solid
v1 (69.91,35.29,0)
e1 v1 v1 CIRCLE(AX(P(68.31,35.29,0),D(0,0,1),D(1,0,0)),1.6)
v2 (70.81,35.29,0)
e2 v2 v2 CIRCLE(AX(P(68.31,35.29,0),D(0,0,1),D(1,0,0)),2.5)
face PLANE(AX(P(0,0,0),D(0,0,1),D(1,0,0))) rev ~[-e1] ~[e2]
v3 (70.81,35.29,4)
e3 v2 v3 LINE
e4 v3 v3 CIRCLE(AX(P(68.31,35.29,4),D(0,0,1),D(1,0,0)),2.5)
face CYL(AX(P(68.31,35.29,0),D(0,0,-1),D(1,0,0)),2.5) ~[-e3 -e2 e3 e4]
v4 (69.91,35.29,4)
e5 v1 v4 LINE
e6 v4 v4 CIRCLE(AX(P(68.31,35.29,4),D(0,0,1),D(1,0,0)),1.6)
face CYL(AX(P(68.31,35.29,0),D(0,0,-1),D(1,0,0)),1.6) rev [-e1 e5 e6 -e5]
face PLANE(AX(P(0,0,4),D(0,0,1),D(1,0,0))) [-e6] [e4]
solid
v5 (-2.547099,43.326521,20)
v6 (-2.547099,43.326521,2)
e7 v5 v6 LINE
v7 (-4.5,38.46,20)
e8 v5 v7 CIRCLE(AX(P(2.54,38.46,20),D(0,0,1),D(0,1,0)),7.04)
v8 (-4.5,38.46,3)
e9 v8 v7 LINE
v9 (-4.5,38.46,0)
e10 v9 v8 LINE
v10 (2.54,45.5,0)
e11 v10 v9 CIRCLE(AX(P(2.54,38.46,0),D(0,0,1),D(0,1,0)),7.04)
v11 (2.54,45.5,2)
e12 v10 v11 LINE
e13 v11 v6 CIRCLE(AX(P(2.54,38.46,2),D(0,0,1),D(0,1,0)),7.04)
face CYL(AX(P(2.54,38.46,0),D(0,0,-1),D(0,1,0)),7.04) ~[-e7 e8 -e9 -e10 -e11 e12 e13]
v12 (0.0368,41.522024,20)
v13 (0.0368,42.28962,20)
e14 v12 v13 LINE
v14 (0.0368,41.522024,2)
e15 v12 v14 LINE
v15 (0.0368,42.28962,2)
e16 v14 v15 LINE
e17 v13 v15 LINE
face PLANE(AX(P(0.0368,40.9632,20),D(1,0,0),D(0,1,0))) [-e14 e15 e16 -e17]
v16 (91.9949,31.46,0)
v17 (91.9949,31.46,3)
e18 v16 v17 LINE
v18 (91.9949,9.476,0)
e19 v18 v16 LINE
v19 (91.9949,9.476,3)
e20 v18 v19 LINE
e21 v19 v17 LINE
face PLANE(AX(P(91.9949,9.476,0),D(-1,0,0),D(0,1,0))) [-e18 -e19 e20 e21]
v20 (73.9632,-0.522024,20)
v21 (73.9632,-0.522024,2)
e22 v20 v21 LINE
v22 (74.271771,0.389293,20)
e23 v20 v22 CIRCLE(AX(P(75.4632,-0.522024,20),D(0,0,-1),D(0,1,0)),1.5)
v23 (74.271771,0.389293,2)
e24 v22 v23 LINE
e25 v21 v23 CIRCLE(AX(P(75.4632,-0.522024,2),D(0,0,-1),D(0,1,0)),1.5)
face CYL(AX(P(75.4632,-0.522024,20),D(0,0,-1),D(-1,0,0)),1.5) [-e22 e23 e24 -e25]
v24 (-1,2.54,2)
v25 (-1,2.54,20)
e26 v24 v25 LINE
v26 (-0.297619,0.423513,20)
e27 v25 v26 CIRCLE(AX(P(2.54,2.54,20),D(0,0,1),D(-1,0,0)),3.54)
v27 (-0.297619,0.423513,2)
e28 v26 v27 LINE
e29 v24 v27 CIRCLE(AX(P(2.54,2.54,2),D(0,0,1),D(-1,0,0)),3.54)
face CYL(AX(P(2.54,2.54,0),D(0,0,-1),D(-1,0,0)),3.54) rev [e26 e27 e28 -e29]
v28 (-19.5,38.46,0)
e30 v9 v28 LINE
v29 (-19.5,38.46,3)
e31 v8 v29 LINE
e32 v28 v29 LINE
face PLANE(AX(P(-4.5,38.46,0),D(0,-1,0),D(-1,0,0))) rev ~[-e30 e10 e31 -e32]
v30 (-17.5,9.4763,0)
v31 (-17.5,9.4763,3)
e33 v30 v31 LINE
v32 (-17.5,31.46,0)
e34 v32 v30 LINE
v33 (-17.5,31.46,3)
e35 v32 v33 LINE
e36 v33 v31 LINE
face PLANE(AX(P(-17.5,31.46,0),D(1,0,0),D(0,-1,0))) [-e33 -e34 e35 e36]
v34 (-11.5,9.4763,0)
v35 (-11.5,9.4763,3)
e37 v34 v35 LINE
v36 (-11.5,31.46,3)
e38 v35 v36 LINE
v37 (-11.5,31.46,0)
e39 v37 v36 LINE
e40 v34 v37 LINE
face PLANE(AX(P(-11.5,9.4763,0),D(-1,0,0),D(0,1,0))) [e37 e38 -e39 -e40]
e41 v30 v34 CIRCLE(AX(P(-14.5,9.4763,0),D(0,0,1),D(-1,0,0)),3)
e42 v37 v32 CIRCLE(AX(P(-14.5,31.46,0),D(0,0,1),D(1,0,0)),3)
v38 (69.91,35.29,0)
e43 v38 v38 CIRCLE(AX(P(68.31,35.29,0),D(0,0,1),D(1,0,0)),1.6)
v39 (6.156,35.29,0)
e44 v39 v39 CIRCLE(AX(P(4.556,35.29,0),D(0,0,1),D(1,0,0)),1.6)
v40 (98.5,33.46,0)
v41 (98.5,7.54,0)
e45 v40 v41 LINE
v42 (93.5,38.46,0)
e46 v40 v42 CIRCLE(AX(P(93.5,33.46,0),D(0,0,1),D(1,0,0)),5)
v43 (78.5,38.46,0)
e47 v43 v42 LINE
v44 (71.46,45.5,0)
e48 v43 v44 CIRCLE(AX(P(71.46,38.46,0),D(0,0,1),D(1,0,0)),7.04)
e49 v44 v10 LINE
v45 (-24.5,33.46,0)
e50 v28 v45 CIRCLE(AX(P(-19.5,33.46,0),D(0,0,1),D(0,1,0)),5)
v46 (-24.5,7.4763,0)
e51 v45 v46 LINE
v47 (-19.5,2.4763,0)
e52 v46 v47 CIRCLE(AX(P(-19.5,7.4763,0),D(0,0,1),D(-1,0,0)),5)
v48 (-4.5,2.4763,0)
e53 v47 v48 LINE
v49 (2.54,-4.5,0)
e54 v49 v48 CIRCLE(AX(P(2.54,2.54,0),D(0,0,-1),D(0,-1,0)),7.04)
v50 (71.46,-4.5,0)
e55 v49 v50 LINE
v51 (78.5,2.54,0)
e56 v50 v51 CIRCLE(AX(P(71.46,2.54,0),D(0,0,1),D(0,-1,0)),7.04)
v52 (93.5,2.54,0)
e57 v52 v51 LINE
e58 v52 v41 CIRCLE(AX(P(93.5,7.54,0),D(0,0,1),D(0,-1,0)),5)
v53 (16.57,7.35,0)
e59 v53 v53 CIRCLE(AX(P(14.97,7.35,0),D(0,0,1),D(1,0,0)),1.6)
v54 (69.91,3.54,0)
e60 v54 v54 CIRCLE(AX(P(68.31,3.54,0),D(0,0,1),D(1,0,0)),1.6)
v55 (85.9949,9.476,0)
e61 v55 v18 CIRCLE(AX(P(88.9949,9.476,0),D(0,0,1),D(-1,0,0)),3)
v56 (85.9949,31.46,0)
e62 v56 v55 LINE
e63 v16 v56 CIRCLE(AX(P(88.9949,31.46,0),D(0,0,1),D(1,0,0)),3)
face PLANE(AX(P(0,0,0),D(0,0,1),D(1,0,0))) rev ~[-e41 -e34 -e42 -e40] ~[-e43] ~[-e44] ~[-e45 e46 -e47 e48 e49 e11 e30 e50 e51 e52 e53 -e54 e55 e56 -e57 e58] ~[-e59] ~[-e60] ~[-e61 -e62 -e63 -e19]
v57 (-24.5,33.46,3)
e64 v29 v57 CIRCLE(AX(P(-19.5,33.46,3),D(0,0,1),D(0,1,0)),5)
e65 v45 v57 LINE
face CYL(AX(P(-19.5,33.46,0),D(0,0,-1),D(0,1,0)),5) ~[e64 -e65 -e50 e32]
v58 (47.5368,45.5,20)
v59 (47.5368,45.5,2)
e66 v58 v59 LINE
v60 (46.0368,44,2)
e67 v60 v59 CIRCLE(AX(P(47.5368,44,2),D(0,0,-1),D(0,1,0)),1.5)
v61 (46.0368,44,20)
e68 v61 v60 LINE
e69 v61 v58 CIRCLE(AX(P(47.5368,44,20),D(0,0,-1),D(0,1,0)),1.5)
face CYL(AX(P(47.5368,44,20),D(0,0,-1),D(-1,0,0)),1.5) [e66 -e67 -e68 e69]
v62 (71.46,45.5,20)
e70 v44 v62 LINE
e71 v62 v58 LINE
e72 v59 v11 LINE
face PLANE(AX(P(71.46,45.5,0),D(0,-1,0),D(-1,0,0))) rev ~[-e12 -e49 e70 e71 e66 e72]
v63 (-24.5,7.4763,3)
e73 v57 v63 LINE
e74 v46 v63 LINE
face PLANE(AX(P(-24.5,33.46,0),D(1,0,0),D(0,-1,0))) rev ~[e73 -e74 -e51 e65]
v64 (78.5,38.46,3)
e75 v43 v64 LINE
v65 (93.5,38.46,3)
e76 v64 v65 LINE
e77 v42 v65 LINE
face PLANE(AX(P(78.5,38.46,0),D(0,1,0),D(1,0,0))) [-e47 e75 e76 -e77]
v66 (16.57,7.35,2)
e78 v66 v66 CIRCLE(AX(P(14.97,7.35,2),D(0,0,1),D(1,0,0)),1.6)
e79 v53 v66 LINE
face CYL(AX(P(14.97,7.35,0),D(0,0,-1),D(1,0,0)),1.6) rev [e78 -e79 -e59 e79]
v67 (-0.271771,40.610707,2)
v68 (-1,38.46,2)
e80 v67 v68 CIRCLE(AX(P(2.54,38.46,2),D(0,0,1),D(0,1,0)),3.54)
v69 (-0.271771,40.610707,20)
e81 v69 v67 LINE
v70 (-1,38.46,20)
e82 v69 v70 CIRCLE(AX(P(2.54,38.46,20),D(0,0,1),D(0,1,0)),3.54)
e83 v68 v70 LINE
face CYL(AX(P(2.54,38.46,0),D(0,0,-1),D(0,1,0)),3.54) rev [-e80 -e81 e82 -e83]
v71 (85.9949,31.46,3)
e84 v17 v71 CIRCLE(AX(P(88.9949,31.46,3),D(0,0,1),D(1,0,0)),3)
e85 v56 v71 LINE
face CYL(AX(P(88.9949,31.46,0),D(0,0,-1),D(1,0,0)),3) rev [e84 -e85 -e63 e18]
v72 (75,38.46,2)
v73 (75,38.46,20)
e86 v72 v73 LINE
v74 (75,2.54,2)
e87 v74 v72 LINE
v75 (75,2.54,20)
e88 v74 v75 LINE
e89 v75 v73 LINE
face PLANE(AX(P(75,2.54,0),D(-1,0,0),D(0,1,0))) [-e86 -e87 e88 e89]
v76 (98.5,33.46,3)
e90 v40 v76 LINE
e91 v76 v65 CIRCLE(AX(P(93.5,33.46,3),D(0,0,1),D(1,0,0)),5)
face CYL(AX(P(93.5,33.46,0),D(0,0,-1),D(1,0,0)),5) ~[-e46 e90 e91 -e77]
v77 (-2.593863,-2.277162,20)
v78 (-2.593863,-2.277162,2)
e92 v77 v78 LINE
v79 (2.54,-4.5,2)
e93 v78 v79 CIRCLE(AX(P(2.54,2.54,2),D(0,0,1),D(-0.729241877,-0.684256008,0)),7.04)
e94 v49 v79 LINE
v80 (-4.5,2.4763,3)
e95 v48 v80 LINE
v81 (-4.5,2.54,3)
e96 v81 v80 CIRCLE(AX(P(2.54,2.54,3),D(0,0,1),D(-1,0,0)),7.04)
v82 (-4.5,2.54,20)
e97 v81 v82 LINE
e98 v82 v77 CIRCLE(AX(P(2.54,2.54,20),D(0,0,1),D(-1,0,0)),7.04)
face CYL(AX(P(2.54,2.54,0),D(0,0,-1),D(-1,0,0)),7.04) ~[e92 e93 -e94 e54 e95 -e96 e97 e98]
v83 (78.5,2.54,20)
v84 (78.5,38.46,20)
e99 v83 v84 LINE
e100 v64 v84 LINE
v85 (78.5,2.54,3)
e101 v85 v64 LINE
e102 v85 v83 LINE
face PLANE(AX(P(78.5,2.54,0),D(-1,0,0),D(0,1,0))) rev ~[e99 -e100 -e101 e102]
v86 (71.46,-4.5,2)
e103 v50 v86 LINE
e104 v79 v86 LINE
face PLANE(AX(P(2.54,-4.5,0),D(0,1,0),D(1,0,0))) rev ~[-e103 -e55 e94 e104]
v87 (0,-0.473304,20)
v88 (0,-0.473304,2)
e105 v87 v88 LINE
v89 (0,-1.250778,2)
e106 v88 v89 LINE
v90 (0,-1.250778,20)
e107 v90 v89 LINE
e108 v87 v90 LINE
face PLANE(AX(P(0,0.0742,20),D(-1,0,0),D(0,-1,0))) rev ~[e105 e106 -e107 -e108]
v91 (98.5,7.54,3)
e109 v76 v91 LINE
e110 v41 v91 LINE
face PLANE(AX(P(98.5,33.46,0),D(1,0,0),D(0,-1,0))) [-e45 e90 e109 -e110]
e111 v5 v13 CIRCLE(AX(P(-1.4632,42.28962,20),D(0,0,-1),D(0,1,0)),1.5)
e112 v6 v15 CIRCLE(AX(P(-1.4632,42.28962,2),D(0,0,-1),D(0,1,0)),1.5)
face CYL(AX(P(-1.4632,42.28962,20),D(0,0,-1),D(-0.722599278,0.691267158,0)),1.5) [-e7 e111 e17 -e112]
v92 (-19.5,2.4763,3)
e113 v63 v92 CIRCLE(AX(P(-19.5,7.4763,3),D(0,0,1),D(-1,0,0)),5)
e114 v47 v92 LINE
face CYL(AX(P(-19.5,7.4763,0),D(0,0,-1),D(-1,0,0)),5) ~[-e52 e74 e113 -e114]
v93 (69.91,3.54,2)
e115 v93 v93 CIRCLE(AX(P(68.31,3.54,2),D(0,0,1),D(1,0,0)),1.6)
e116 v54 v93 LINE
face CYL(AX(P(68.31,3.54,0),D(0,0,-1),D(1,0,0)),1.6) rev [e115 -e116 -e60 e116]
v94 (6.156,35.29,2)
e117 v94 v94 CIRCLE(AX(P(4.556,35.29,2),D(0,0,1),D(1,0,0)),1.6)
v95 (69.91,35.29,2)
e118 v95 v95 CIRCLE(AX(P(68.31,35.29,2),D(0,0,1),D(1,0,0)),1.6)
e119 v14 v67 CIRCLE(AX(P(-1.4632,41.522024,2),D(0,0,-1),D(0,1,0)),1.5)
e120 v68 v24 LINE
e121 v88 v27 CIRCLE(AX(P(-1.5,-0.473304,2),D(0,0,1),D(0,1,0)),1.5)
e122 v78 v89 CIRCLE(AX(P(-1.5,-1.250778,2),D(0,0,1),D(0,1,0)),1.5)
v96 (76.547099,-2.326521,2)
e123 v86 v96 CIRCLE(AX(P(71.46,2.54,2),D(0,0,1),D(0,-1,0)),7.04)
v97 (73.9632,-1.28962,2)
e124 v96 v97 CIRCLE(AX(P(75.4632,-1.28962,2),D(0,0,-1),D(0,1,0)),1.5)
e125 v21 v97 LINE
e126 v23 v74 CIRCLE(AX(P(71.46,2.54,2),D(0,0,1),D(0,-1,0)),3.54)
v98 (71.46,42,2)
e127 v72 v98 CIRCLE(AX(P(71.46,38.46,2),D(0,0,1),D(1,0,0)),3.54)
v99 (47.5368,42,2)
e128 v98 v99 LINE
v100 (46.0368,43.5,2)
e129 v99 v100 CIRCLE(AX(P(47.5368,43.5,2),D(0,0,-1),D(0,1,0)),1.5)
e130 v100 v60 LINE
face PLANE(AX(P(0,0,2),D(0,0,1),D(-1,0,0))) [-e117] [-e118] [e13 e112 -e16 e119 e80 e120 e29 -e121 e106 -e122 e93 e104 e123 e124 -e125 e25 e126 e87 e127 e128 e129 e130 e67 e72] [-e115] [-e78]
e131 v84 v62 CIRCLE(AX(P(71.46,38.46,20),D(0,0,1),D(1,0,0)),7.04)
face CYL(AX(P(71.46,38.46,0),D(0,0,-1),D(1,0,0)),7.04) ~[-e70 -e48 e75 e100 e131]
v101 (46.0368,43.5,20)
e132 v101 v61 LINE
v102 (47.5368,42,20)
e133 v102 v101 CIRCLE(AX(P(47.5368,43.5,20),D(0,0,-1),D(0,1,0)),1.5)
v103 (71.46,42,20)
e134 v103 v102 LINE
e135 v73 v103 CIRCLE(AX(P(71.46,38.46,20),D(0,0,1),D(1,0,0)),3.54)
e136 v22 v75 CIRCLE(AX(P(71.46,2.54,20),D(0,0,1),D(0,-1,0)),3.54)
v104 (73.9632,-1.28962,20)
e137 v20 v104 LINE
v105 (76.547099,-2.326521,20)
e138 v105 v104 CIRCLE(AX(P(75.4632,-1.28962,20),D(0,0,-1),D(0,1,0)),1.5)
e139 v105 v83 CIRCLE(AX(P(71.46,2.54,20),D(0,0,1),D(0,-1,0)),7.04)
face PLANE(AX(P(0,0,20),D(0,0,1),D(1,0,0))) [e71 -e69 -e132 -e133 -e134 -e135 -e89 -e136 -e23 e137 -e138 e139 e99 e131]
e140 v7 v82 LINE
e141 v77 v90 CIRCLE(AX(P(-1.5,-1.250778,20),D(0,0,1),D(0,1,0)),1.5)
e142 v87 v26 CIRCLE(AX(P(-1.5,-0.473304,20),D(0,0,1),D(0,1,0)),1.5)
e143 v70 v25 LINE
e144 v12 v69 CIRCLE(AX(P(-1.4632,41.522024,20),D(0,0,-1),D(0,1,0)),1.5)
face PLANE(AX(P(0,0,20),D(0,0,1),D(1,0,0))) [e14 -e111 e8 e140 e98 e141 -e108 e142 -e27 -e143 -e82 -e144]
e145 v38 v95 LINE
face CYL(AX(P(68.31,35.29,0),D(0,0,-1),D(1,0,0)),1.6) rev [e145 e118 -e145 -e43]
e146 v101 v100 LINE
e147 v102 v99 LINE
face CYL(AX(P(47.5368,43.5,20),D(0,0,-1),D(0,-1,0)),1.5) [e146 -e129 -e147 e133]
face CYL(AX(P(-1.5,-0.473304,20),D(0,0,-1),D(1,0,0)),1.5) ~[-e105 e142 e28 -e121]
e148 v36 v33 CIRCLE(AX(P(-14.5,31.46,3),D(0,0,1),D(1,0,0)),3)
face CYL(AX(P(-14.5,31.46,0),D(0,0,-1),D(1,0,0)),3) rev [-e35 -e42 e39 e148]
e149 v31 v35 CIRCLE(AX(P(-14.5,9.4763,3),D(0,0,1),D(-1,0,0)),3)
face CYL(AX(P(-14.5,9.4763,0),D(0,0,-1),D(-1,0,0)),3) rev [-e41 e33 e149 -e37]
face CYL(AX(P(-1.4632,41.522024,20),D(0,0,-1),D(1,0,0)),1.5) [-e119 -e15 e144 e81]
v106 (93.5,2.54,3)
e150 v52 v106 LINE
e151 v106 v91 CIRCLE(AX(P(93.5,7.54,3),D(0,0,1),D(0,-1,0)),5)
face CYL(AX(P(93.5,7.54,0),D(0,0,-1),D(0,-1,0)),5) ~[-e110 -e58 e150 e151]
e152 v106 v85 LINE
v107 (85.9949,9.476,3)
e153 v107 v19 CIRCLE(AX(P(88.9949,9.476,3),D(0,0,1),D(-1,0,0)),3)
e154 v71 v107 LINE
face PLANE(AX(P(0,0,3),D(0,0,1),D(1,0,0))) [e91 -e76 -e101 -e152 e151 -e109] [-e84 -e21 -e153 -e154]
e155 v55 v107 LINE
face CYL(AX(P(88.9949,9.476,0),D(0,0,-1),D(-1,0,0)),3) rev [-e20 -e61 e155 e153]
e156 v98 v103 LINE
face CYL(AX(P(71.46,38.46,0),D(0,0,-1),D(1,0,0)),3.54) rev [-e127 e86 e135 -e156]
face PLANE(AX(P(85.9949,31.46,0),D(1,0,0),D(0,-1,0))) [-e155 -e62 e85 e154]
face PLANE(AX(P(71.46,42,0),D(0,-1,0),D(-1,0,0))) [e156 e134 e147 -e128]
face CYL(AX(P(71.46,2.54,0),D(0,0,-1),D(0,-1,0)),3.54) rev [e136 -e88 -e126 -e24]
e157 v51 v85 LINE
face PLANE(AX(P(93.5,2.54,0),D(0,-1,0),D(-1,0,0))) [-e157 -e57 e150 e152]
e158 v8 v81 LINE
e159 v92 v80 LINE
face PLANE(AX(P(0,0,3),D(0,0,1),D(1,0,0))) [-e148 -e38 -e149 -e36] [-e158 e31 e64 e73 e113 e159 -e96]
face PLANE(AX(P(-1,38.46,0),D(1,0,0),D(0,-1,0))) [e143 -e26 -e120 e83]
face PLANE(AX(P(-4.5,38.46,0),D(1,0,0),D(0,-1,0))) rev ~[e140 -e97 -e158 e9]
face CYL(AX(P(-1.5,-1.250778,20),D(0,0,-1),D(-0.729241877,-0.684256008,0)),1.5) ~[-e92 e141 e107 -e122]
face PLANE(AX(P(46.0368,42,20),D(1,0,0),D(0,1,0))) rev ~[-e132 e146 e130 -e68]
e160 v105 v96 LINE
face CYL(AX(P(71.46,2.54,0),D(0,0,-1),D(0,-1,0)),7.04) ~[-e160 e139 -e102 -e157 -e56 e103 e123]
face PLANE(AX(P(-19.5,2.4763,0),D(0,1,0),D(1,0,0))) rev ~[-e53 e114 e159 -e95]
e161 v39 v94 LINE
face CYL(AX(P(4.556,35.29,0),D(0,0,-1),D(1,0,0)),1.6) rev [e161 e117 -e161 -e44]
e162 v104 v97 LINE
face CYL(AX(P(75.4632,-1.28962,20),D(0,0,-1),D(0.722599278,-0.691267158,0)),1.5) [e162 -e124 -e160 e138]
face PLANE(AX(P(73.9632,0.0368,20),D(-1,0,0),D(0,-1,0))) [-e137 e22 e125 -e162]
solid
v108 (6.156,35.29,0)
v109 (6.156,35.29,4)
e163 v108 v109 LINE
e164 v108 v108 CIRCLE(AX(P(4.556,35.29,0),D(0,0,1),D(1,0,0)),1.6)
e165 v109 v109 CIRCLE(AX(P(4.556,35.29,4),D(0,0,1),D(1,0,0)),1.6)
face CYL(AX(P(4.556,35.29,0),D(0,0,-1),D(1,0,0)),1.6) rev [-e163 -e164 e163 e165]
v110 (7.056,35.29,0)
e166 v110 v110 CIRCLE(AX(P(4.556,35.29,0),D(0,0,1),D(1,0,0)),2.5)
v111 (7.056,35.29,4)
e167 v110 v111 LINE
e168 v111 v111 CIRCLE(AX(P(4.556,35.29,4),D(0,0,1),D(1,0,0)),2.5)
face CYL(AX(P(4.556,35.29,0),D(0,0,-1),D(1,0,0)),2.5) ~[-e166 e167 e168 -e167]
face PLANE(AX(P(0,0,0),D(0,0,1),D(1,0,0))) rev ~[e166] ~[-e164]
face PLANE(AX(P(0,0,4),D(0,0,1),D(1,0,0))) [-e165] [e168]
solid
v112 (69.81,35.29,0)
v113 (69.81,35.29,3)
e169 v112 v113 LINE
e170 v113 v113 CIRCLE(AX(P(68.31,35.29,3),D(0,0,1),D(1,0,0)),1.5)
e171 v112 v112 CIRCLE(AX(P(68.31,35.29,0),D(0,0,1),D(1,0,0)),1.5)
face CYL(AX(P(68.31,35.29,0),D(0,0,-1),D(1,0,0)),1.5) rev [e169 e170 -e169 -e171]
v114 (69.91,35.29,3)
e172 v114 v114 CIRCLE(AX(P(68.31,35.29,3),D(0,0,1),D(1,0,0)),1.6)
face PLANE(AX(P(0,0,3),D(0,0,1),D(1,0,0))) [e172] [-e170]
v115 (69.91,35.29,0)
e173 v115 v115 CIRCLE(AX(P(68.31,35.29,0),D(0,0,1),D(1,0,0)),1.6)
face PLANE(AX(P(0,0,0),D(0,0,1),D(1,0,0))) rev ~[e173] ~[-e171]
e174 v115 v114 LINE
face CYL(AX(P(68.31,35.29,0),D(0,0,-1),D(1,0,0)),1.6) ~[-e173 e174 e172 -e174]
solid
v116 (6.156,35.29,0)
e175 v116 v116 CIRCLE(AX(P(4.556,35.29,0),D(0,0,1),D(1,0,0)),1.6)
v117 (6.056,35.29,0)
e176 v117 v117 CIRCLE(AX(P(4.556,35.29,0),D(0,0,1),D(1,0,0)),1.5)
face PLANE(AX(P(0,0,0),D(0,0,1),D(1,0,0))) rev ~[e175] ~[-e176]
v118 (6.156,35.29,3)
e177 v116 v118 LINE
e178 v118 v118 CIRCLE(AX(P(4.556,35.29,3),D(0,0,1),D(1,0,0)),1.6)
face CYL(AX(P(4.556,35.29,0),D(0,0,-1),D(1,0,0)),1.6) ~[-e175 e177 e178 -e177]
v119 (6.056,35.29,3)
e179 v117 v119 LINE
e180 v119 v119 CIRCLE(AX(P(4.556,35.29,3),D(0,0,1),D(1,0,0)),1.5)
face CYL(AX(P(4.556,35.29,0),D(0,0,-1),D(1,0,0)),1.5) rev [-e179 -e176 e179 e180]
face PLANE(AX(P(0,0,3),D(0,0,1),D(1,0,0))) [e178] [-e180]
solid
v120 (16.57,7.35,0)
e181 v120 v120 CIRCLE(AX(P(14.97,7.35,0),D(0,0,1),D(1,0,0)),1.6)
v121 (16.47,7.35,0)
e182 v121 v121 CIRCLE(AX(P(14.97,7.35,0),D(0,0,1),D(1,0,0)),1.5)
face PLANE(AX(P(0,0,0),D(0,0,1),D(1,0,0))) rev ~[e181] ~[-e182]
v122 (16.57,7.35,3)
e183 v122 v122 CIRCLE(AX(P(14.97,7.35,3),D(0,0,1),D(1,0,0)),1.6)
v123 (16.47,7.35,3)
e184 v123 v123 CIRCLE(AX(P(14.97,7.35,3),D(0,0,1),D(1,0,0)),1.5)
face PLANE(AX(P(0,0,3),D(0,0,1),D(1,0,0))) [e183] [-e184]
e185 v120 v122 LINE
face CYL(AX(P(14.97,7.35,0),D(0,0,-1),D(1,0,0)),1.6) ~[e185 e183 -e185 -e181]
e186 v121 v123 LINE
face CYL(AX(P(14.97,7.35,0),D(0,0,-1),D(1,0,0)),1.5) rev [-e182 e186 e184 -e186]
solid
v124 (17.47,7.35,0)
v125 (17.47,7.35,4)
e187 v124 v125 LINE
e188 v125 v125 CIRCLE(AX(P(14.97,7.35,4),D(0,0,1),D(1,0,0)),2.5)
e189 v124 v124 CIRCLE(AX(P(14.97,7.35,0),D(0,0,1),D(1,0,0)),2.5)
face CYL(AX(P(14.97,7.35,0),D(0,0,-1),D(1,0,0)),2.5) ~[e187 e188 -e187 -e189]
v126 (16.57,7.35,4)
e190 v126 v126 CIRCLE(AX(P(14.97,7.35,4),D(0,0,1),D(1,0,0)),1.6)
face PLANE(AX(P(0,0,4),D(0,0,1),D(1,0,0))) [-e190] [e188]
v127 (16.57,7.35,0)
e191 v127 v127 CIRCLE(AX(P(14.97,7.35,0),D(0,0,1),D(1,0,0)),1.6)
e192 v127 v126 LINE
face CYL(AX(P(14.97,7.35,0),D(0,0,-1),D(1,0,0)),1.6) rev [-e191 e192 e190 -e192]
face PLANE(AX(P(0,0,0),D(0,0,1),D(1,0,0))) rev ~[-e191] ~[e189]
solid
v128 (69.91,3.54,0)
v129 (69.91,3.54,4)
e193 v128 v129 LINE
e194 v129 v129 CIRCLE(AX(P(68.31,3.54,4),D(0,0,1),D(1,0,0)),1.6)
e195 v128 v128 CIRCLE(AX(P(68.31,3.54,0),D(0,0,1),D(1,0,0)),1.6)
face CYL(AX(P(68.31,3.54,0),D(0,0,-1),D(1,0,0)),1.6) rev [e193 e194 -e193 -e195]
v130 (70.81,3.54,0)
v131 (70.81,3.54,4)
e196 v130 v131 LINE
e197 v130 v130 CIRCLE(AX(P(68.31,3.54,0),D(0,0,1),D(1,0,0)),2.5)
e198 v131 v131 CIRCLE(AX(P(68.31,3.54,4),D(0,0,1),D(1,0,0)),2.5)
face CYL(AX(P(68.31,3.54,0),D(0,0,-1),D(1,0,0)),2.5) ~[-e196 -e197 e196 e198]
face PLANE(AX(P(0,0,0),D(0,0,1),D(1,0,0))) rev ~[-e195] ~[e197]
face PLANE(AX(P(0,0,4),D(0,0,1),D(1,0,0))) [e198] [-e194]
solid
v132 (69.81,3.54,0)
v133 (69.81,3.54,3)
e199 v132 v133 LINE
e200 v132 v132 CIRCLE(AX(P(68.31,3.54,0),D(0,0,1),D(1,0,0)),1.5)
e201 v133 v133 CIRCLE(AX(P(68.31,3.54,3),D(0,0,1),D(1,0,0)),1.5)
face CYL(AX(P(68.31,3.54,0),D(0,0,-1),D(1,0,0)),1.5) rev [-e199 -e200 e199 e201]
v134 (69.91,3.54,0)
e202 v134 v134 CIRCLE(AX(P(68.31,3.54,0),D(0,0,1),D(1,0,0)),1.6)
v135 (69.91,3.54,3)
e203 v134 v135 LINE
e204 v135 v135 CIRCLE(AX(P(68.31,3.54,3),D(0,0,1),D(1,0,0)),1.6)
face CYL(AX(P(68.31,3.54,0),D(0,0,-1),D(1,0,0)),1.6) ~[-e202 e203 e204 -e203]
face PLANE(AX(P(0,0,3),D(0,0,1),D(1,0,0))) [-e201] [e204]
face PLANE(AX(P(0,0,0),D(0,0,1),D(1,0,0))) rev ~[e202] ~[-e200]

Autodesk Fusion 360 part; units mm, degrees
sketch "Sketch1" plane through (0, 0, 0) normal (0, 0, 1) x (1, 0, 0)
  line L0 (74, 2.54) -> (74, 38.46)
  line L1 (71.46, 41) -> (2.54, 41)
  line L2 (0, 38.46) -> (0, 2.54)
  circle A0 centre (14.97, 7.35) radius 1.6
  circle A1 centre (4.556, 35.29) radius 1.6
  circle A2 centre (68.31, 35.29) radius 1.6
  line L3 (2.54, 0) -> (71.46, 0)
  circle A3 centre (68.31, 3.54) radius 1.6
  arc A4 (2.54, 41) -> (0, 38.46) centre (2.54, 38.46) ccw
  arc A5 (74, 38.46) -> (71.46, 41) centre (71.46, 38.46) ccw
  arc A6 (71.46, 0) -> (74, 2.54) centre (71.46, 2.54) ccw
  arc A7 (0, 2.54) -> (2.54, 0) centre (2.54, 2.54) ccw
  line L4 (-1, 38.46) -> (-1, 2.54)
  arc A8 (-1, 2.54) -> (2.54, -1) centre (2.54, 2.54) ccw
  line L5 (2.54, -1) -> (71.46, -1)
  arc A9 (71.46, -1) -> (75, 2.54) centre (71.46, 2.54) ccw
  line L6 (75, 2.54) -> (75, 38.46)
  arc A10 (75, 38.46) -> (71.46, 42) centre (71.46, 38.46) ccw
  line L7 (71.46, 42) -> (2.54, 42)
  arc A11 (2.54, 42) -> (-1, 38.46) centre (2.54, 38.46) ccw
  arc A12 (2.54, 45.5) -> (-4.5, 38.46) centre (2.54, 38.46) ccw
  line L8 (-4.5, 38.46) -> (-4.5, 2.54)
  arc A13 (-4.5, 2.54) -> (2.54, -4.5) centre (2.54, 2.54) ccw
  line L9 (2.54, -4.5) -> (71.46, -4.5)
  arc A14 (71.46, -4.5) -> (78.5, 2.54) centre (71.46, 2.54) ccw
  line L10 (78.5, 2.54) -> (78.5, 38.46)
  arc A15 (78.5, 38.46) -> (71.46, 45.5) centre (71.46, 38.46) ccw
  line L11 (71.46, 45.5) -> (2.54, 45.5)
  circle A16 centre (68.31, 3.54) radius 1.5
  circle A17 centre (14.97, 7.35) radius 1.5
  circle A18 centre (4.556, 35.29) radius 1.5
  circle A19 centre (68.31, 35.29) radius 1.5
  circle A20 centre (4.556, 35.29) radius 2.5
  circle A21 centre (14.97, 7.35) radius 2.5
  circle A22 centre (68.31, 3.54) radius 2.5
  circle A23 centre (68.31, 35.29) radius 2.5
  line L12 (-4.5, 38.46) -> (-19.5, 38.46)
  line L13 (-24.5, 33.46) -> (-24.5, 7.4763)
  line L14 (-19.5, 2.4763) -> (-4.5, 2.4763)
  line L15 (-4.5, 2.4763) -> (-4.5, 38.46)
  line L16 (78.5, 38.46) -> (93.5, 38.46)
  line L17 (98.5, 33.46) -> (98.5, 7.54)
  line L18 (93.5, 2.54) -> (78.5, 2.54)
  line L19 (78.5, 2.54) -> (78.5, 38.46)
  line L20 (-17.5, 31.46) -> (-17.5, 9.4763)
  arc A24 (-17.5, 9.4763) -> (-11.5, 9.4763) centre (-14.5, 9.4763) ccw
  line L21 (-11.5, 9.4763) -> (-11.5, 31.46)
  arc A25 (-11.5, 31.46) -> (-17.5, 31.46) centre (-14.5, 31.46) ccw
  line L22 (-14.5, 34.46) -> (-14.5, 6.4763) construction
  line L23 (85.9949, 31.46) -> (85.9949, 9.476)
  arc A26 (85.9949, 9.476) -> (91.9949, 9.476) centre (88.9949, 9.476) ccw
  line L24 (91.9949, 9.476) -> (91.9949, 31.46)
  arc A27 (91.9949, 31.46) -> (85.9949, 31.46) centre (88.9949, 31.46) ccw
  line L25 (88.9949, 34.46) -> (88.9949, 6.476) construction
  arc A28 (-19.5, 38.46) -> (-24.5, 33.46) centre (-19.5, 33.46) ccw
  arc A29 (-24.5, 7.4763) -> (-19.5, 2.4763) centre (-19.5, 7.4763) ccw
  arc A30 (93.5, 2.54) -> (98.5, 7.54) centre (93.5, 7.54) ccw
  arc A31 (98.5, 33.46) -> (93.5, 38.46) centre (93.5, 33.46) ccw
  point P0 (74, 0)
  point P1 (0, 41)
  point P2 (-24.5, 38.46)
  point P3 (98.5, 38.46)
  dimension "d1" = 74
  dimension "d2" = 41
  dimension "d5" = 3.2
  dimension "d7" = 3.2
  dimension "d10" = 3.2
  dimension "d13" = 3.2
  dimension "d16" = 2.54
  dimension "d17" = 1
  dimension "d18" = 4.5
  dimension "d23" = 3
  dimension "d24" = 3
  dimension "d25" = 3
  dimension "d26" = 3
  dimension "d32" = 5
  dimension "d33" = 5
  dimension "d34" = 5
  dimension "d35" = 5
  dimension "d48" = 20
  dimension "d49" = 20
  dimension "d50" = 6
  dimension "d53" = 6
  dimension "d56" = 5
extrude "Extrude7" add sketch "Sketch1" along normal blind 3 contours L8 A13 L12 L13 L14 L15 A28 A29 | L10 L16 L17 L18 L19 A30 A31 makes body 1 at (-6.8333, 24.1533, 0) makes body 2 at (80.9983, 24.1533, 0)
extrude "Extrude5" add sketch "Sketch1" along normal blind 5 separate body contours A20 | A21 | A22 | A23 makes body 3 at (17.4669, 7.2254, 3.3333) makes body 4 at (70.8069, 3.4154, 3.3333) makes body 5 at (7.0529, 35.1654, 3.3333) makes body 6 at (70.8069, 35.1654, 3.3333)
extrude "Extrude3" add sketch "Sketch1" along normal blind 3 separate body contours A0 | A1 | A2 | A3 makes body 7 at (16.568, 7.2702, 2) makes body 8 at (68.3499, 5.1395, 2) makes body 9 at (6.154, 35.2102, 2) makes body 10 at (68.3499, 36.8895, 2)
extrude "Extrude1" add sketch "Sketch1" along normal blind 20 separate body contours A12 L8 A13 L9 A14 L10 A15 L11 L15 L19 makes body 11
extrude "Extrude2" add sketch "Sketch1" along normal blind 2 contours L0 L1 L2 L3 A4 A5 A6 A7 | L4 A8 L5 A9 L6 A10 L7 A11 | A20 | A21 | A22 | A23 bodies 11
sketch "Sketch2" plane through (0, 0, 20) normal (0, 0, 1) x (-1, 0, 0)
  arc A0 (-2.54, -42) -> (1, -38.46) centre (-2.54, -38.46) ccw
  line L0 (-2.54, -42) -> (-71.46, -42)
  arc A1 (-75, -38.46) -> (-71.46, -42) centre (-71.46, -38.46) ccw
  line L1 (-75, -38.46) -> (-75, -2.54)
  arc A2 (-71.46, 1) -> (-75, -2.54) centre (-71.46, -2.54) ccw
  line L2 (-71.46, 1) -> (-2.54, 1)
  arc A3 (1, -2.54) -> (-2.54, 1) centre (-2.54, -2.54) ccw
  line L3 (1, -2.54) -> (1, -38.46)
  line L4 (-71.46, -45.5) -> (-2.54, -45.5)
  arc A4 (-2.54, -45.5) -> (4.5, -38.46) centre (-2.54, -38.46) ccw
  line L5 (4.5, -38.46) -> (4.5, -2.54)
  arc A5 (4.5, -2.54) -> (-2.54, 4.5) centre (-2.54, -2.54) ccw
  line L6 (-2.54, 4.5) -> (-71.46, 4.5)
  arc A6 (-71.46, 4.5) -> (-78.5, -2.54) centre (-71.46, -2.54) ccw
  line L7 (-78.5, -2.54) -> (-78.5, -38.46)
  arc A7 (-78.5, -38.46) -> (-71.46, -45.5) centre (-71.46, -38.46) ccw
  line L8 (-73.9632, -0.0368) -> (-73.9632, 4.04)
  line L9 (-0.0368, -40.9632) -> (-0.0368, -45.04)
  line L10 (-46.0368, -42) -> (-46.0368, -45.5)
  line L11 (0, -0.0742) -> (0, 4.0258)
  dimension "d29" = 46
extrude "Extrude4" cut sketch "Sketch2" against normal blind 18 contours A0 L0 L4 A4 L9 L10 | A2 L2 A3 A5 L6 A6 L8 L11 bodies 11
extrude "Extrude6" cut 4 faces at (6.7407, 35.0863, 5) (17.1607, 7.2258, 5) (70.5007, 3.4158, 5) (70.5007, 35.1658, 5) along direction (0, 0, -1) blind 1 on bodies 3 4 5 6 bodies 3 4 5 6
fillet "Fillet1" radius 1.5 2 edges at (0, -4.0258, 11) (0, 0.0742, 11) on bodies 11
fillet "Fillet2" radius 1.5 2 edges at (73.9632, -4.04, 11) (73.9632, 0.0368, 11) on bodies 11
fillet "Fillet3" radius 1.5 2 edges at (46.0368, 45.5, 11) (46.0368, 42, 11) on bodies 11
fillet "Fillet4" radius 1.5 2 edges at (0.0368, 40.9632, 11) (0.0368, 45.04, 11) on bodies 11
combine "Combine1" operation add target body 11 tool bodies 1 2
